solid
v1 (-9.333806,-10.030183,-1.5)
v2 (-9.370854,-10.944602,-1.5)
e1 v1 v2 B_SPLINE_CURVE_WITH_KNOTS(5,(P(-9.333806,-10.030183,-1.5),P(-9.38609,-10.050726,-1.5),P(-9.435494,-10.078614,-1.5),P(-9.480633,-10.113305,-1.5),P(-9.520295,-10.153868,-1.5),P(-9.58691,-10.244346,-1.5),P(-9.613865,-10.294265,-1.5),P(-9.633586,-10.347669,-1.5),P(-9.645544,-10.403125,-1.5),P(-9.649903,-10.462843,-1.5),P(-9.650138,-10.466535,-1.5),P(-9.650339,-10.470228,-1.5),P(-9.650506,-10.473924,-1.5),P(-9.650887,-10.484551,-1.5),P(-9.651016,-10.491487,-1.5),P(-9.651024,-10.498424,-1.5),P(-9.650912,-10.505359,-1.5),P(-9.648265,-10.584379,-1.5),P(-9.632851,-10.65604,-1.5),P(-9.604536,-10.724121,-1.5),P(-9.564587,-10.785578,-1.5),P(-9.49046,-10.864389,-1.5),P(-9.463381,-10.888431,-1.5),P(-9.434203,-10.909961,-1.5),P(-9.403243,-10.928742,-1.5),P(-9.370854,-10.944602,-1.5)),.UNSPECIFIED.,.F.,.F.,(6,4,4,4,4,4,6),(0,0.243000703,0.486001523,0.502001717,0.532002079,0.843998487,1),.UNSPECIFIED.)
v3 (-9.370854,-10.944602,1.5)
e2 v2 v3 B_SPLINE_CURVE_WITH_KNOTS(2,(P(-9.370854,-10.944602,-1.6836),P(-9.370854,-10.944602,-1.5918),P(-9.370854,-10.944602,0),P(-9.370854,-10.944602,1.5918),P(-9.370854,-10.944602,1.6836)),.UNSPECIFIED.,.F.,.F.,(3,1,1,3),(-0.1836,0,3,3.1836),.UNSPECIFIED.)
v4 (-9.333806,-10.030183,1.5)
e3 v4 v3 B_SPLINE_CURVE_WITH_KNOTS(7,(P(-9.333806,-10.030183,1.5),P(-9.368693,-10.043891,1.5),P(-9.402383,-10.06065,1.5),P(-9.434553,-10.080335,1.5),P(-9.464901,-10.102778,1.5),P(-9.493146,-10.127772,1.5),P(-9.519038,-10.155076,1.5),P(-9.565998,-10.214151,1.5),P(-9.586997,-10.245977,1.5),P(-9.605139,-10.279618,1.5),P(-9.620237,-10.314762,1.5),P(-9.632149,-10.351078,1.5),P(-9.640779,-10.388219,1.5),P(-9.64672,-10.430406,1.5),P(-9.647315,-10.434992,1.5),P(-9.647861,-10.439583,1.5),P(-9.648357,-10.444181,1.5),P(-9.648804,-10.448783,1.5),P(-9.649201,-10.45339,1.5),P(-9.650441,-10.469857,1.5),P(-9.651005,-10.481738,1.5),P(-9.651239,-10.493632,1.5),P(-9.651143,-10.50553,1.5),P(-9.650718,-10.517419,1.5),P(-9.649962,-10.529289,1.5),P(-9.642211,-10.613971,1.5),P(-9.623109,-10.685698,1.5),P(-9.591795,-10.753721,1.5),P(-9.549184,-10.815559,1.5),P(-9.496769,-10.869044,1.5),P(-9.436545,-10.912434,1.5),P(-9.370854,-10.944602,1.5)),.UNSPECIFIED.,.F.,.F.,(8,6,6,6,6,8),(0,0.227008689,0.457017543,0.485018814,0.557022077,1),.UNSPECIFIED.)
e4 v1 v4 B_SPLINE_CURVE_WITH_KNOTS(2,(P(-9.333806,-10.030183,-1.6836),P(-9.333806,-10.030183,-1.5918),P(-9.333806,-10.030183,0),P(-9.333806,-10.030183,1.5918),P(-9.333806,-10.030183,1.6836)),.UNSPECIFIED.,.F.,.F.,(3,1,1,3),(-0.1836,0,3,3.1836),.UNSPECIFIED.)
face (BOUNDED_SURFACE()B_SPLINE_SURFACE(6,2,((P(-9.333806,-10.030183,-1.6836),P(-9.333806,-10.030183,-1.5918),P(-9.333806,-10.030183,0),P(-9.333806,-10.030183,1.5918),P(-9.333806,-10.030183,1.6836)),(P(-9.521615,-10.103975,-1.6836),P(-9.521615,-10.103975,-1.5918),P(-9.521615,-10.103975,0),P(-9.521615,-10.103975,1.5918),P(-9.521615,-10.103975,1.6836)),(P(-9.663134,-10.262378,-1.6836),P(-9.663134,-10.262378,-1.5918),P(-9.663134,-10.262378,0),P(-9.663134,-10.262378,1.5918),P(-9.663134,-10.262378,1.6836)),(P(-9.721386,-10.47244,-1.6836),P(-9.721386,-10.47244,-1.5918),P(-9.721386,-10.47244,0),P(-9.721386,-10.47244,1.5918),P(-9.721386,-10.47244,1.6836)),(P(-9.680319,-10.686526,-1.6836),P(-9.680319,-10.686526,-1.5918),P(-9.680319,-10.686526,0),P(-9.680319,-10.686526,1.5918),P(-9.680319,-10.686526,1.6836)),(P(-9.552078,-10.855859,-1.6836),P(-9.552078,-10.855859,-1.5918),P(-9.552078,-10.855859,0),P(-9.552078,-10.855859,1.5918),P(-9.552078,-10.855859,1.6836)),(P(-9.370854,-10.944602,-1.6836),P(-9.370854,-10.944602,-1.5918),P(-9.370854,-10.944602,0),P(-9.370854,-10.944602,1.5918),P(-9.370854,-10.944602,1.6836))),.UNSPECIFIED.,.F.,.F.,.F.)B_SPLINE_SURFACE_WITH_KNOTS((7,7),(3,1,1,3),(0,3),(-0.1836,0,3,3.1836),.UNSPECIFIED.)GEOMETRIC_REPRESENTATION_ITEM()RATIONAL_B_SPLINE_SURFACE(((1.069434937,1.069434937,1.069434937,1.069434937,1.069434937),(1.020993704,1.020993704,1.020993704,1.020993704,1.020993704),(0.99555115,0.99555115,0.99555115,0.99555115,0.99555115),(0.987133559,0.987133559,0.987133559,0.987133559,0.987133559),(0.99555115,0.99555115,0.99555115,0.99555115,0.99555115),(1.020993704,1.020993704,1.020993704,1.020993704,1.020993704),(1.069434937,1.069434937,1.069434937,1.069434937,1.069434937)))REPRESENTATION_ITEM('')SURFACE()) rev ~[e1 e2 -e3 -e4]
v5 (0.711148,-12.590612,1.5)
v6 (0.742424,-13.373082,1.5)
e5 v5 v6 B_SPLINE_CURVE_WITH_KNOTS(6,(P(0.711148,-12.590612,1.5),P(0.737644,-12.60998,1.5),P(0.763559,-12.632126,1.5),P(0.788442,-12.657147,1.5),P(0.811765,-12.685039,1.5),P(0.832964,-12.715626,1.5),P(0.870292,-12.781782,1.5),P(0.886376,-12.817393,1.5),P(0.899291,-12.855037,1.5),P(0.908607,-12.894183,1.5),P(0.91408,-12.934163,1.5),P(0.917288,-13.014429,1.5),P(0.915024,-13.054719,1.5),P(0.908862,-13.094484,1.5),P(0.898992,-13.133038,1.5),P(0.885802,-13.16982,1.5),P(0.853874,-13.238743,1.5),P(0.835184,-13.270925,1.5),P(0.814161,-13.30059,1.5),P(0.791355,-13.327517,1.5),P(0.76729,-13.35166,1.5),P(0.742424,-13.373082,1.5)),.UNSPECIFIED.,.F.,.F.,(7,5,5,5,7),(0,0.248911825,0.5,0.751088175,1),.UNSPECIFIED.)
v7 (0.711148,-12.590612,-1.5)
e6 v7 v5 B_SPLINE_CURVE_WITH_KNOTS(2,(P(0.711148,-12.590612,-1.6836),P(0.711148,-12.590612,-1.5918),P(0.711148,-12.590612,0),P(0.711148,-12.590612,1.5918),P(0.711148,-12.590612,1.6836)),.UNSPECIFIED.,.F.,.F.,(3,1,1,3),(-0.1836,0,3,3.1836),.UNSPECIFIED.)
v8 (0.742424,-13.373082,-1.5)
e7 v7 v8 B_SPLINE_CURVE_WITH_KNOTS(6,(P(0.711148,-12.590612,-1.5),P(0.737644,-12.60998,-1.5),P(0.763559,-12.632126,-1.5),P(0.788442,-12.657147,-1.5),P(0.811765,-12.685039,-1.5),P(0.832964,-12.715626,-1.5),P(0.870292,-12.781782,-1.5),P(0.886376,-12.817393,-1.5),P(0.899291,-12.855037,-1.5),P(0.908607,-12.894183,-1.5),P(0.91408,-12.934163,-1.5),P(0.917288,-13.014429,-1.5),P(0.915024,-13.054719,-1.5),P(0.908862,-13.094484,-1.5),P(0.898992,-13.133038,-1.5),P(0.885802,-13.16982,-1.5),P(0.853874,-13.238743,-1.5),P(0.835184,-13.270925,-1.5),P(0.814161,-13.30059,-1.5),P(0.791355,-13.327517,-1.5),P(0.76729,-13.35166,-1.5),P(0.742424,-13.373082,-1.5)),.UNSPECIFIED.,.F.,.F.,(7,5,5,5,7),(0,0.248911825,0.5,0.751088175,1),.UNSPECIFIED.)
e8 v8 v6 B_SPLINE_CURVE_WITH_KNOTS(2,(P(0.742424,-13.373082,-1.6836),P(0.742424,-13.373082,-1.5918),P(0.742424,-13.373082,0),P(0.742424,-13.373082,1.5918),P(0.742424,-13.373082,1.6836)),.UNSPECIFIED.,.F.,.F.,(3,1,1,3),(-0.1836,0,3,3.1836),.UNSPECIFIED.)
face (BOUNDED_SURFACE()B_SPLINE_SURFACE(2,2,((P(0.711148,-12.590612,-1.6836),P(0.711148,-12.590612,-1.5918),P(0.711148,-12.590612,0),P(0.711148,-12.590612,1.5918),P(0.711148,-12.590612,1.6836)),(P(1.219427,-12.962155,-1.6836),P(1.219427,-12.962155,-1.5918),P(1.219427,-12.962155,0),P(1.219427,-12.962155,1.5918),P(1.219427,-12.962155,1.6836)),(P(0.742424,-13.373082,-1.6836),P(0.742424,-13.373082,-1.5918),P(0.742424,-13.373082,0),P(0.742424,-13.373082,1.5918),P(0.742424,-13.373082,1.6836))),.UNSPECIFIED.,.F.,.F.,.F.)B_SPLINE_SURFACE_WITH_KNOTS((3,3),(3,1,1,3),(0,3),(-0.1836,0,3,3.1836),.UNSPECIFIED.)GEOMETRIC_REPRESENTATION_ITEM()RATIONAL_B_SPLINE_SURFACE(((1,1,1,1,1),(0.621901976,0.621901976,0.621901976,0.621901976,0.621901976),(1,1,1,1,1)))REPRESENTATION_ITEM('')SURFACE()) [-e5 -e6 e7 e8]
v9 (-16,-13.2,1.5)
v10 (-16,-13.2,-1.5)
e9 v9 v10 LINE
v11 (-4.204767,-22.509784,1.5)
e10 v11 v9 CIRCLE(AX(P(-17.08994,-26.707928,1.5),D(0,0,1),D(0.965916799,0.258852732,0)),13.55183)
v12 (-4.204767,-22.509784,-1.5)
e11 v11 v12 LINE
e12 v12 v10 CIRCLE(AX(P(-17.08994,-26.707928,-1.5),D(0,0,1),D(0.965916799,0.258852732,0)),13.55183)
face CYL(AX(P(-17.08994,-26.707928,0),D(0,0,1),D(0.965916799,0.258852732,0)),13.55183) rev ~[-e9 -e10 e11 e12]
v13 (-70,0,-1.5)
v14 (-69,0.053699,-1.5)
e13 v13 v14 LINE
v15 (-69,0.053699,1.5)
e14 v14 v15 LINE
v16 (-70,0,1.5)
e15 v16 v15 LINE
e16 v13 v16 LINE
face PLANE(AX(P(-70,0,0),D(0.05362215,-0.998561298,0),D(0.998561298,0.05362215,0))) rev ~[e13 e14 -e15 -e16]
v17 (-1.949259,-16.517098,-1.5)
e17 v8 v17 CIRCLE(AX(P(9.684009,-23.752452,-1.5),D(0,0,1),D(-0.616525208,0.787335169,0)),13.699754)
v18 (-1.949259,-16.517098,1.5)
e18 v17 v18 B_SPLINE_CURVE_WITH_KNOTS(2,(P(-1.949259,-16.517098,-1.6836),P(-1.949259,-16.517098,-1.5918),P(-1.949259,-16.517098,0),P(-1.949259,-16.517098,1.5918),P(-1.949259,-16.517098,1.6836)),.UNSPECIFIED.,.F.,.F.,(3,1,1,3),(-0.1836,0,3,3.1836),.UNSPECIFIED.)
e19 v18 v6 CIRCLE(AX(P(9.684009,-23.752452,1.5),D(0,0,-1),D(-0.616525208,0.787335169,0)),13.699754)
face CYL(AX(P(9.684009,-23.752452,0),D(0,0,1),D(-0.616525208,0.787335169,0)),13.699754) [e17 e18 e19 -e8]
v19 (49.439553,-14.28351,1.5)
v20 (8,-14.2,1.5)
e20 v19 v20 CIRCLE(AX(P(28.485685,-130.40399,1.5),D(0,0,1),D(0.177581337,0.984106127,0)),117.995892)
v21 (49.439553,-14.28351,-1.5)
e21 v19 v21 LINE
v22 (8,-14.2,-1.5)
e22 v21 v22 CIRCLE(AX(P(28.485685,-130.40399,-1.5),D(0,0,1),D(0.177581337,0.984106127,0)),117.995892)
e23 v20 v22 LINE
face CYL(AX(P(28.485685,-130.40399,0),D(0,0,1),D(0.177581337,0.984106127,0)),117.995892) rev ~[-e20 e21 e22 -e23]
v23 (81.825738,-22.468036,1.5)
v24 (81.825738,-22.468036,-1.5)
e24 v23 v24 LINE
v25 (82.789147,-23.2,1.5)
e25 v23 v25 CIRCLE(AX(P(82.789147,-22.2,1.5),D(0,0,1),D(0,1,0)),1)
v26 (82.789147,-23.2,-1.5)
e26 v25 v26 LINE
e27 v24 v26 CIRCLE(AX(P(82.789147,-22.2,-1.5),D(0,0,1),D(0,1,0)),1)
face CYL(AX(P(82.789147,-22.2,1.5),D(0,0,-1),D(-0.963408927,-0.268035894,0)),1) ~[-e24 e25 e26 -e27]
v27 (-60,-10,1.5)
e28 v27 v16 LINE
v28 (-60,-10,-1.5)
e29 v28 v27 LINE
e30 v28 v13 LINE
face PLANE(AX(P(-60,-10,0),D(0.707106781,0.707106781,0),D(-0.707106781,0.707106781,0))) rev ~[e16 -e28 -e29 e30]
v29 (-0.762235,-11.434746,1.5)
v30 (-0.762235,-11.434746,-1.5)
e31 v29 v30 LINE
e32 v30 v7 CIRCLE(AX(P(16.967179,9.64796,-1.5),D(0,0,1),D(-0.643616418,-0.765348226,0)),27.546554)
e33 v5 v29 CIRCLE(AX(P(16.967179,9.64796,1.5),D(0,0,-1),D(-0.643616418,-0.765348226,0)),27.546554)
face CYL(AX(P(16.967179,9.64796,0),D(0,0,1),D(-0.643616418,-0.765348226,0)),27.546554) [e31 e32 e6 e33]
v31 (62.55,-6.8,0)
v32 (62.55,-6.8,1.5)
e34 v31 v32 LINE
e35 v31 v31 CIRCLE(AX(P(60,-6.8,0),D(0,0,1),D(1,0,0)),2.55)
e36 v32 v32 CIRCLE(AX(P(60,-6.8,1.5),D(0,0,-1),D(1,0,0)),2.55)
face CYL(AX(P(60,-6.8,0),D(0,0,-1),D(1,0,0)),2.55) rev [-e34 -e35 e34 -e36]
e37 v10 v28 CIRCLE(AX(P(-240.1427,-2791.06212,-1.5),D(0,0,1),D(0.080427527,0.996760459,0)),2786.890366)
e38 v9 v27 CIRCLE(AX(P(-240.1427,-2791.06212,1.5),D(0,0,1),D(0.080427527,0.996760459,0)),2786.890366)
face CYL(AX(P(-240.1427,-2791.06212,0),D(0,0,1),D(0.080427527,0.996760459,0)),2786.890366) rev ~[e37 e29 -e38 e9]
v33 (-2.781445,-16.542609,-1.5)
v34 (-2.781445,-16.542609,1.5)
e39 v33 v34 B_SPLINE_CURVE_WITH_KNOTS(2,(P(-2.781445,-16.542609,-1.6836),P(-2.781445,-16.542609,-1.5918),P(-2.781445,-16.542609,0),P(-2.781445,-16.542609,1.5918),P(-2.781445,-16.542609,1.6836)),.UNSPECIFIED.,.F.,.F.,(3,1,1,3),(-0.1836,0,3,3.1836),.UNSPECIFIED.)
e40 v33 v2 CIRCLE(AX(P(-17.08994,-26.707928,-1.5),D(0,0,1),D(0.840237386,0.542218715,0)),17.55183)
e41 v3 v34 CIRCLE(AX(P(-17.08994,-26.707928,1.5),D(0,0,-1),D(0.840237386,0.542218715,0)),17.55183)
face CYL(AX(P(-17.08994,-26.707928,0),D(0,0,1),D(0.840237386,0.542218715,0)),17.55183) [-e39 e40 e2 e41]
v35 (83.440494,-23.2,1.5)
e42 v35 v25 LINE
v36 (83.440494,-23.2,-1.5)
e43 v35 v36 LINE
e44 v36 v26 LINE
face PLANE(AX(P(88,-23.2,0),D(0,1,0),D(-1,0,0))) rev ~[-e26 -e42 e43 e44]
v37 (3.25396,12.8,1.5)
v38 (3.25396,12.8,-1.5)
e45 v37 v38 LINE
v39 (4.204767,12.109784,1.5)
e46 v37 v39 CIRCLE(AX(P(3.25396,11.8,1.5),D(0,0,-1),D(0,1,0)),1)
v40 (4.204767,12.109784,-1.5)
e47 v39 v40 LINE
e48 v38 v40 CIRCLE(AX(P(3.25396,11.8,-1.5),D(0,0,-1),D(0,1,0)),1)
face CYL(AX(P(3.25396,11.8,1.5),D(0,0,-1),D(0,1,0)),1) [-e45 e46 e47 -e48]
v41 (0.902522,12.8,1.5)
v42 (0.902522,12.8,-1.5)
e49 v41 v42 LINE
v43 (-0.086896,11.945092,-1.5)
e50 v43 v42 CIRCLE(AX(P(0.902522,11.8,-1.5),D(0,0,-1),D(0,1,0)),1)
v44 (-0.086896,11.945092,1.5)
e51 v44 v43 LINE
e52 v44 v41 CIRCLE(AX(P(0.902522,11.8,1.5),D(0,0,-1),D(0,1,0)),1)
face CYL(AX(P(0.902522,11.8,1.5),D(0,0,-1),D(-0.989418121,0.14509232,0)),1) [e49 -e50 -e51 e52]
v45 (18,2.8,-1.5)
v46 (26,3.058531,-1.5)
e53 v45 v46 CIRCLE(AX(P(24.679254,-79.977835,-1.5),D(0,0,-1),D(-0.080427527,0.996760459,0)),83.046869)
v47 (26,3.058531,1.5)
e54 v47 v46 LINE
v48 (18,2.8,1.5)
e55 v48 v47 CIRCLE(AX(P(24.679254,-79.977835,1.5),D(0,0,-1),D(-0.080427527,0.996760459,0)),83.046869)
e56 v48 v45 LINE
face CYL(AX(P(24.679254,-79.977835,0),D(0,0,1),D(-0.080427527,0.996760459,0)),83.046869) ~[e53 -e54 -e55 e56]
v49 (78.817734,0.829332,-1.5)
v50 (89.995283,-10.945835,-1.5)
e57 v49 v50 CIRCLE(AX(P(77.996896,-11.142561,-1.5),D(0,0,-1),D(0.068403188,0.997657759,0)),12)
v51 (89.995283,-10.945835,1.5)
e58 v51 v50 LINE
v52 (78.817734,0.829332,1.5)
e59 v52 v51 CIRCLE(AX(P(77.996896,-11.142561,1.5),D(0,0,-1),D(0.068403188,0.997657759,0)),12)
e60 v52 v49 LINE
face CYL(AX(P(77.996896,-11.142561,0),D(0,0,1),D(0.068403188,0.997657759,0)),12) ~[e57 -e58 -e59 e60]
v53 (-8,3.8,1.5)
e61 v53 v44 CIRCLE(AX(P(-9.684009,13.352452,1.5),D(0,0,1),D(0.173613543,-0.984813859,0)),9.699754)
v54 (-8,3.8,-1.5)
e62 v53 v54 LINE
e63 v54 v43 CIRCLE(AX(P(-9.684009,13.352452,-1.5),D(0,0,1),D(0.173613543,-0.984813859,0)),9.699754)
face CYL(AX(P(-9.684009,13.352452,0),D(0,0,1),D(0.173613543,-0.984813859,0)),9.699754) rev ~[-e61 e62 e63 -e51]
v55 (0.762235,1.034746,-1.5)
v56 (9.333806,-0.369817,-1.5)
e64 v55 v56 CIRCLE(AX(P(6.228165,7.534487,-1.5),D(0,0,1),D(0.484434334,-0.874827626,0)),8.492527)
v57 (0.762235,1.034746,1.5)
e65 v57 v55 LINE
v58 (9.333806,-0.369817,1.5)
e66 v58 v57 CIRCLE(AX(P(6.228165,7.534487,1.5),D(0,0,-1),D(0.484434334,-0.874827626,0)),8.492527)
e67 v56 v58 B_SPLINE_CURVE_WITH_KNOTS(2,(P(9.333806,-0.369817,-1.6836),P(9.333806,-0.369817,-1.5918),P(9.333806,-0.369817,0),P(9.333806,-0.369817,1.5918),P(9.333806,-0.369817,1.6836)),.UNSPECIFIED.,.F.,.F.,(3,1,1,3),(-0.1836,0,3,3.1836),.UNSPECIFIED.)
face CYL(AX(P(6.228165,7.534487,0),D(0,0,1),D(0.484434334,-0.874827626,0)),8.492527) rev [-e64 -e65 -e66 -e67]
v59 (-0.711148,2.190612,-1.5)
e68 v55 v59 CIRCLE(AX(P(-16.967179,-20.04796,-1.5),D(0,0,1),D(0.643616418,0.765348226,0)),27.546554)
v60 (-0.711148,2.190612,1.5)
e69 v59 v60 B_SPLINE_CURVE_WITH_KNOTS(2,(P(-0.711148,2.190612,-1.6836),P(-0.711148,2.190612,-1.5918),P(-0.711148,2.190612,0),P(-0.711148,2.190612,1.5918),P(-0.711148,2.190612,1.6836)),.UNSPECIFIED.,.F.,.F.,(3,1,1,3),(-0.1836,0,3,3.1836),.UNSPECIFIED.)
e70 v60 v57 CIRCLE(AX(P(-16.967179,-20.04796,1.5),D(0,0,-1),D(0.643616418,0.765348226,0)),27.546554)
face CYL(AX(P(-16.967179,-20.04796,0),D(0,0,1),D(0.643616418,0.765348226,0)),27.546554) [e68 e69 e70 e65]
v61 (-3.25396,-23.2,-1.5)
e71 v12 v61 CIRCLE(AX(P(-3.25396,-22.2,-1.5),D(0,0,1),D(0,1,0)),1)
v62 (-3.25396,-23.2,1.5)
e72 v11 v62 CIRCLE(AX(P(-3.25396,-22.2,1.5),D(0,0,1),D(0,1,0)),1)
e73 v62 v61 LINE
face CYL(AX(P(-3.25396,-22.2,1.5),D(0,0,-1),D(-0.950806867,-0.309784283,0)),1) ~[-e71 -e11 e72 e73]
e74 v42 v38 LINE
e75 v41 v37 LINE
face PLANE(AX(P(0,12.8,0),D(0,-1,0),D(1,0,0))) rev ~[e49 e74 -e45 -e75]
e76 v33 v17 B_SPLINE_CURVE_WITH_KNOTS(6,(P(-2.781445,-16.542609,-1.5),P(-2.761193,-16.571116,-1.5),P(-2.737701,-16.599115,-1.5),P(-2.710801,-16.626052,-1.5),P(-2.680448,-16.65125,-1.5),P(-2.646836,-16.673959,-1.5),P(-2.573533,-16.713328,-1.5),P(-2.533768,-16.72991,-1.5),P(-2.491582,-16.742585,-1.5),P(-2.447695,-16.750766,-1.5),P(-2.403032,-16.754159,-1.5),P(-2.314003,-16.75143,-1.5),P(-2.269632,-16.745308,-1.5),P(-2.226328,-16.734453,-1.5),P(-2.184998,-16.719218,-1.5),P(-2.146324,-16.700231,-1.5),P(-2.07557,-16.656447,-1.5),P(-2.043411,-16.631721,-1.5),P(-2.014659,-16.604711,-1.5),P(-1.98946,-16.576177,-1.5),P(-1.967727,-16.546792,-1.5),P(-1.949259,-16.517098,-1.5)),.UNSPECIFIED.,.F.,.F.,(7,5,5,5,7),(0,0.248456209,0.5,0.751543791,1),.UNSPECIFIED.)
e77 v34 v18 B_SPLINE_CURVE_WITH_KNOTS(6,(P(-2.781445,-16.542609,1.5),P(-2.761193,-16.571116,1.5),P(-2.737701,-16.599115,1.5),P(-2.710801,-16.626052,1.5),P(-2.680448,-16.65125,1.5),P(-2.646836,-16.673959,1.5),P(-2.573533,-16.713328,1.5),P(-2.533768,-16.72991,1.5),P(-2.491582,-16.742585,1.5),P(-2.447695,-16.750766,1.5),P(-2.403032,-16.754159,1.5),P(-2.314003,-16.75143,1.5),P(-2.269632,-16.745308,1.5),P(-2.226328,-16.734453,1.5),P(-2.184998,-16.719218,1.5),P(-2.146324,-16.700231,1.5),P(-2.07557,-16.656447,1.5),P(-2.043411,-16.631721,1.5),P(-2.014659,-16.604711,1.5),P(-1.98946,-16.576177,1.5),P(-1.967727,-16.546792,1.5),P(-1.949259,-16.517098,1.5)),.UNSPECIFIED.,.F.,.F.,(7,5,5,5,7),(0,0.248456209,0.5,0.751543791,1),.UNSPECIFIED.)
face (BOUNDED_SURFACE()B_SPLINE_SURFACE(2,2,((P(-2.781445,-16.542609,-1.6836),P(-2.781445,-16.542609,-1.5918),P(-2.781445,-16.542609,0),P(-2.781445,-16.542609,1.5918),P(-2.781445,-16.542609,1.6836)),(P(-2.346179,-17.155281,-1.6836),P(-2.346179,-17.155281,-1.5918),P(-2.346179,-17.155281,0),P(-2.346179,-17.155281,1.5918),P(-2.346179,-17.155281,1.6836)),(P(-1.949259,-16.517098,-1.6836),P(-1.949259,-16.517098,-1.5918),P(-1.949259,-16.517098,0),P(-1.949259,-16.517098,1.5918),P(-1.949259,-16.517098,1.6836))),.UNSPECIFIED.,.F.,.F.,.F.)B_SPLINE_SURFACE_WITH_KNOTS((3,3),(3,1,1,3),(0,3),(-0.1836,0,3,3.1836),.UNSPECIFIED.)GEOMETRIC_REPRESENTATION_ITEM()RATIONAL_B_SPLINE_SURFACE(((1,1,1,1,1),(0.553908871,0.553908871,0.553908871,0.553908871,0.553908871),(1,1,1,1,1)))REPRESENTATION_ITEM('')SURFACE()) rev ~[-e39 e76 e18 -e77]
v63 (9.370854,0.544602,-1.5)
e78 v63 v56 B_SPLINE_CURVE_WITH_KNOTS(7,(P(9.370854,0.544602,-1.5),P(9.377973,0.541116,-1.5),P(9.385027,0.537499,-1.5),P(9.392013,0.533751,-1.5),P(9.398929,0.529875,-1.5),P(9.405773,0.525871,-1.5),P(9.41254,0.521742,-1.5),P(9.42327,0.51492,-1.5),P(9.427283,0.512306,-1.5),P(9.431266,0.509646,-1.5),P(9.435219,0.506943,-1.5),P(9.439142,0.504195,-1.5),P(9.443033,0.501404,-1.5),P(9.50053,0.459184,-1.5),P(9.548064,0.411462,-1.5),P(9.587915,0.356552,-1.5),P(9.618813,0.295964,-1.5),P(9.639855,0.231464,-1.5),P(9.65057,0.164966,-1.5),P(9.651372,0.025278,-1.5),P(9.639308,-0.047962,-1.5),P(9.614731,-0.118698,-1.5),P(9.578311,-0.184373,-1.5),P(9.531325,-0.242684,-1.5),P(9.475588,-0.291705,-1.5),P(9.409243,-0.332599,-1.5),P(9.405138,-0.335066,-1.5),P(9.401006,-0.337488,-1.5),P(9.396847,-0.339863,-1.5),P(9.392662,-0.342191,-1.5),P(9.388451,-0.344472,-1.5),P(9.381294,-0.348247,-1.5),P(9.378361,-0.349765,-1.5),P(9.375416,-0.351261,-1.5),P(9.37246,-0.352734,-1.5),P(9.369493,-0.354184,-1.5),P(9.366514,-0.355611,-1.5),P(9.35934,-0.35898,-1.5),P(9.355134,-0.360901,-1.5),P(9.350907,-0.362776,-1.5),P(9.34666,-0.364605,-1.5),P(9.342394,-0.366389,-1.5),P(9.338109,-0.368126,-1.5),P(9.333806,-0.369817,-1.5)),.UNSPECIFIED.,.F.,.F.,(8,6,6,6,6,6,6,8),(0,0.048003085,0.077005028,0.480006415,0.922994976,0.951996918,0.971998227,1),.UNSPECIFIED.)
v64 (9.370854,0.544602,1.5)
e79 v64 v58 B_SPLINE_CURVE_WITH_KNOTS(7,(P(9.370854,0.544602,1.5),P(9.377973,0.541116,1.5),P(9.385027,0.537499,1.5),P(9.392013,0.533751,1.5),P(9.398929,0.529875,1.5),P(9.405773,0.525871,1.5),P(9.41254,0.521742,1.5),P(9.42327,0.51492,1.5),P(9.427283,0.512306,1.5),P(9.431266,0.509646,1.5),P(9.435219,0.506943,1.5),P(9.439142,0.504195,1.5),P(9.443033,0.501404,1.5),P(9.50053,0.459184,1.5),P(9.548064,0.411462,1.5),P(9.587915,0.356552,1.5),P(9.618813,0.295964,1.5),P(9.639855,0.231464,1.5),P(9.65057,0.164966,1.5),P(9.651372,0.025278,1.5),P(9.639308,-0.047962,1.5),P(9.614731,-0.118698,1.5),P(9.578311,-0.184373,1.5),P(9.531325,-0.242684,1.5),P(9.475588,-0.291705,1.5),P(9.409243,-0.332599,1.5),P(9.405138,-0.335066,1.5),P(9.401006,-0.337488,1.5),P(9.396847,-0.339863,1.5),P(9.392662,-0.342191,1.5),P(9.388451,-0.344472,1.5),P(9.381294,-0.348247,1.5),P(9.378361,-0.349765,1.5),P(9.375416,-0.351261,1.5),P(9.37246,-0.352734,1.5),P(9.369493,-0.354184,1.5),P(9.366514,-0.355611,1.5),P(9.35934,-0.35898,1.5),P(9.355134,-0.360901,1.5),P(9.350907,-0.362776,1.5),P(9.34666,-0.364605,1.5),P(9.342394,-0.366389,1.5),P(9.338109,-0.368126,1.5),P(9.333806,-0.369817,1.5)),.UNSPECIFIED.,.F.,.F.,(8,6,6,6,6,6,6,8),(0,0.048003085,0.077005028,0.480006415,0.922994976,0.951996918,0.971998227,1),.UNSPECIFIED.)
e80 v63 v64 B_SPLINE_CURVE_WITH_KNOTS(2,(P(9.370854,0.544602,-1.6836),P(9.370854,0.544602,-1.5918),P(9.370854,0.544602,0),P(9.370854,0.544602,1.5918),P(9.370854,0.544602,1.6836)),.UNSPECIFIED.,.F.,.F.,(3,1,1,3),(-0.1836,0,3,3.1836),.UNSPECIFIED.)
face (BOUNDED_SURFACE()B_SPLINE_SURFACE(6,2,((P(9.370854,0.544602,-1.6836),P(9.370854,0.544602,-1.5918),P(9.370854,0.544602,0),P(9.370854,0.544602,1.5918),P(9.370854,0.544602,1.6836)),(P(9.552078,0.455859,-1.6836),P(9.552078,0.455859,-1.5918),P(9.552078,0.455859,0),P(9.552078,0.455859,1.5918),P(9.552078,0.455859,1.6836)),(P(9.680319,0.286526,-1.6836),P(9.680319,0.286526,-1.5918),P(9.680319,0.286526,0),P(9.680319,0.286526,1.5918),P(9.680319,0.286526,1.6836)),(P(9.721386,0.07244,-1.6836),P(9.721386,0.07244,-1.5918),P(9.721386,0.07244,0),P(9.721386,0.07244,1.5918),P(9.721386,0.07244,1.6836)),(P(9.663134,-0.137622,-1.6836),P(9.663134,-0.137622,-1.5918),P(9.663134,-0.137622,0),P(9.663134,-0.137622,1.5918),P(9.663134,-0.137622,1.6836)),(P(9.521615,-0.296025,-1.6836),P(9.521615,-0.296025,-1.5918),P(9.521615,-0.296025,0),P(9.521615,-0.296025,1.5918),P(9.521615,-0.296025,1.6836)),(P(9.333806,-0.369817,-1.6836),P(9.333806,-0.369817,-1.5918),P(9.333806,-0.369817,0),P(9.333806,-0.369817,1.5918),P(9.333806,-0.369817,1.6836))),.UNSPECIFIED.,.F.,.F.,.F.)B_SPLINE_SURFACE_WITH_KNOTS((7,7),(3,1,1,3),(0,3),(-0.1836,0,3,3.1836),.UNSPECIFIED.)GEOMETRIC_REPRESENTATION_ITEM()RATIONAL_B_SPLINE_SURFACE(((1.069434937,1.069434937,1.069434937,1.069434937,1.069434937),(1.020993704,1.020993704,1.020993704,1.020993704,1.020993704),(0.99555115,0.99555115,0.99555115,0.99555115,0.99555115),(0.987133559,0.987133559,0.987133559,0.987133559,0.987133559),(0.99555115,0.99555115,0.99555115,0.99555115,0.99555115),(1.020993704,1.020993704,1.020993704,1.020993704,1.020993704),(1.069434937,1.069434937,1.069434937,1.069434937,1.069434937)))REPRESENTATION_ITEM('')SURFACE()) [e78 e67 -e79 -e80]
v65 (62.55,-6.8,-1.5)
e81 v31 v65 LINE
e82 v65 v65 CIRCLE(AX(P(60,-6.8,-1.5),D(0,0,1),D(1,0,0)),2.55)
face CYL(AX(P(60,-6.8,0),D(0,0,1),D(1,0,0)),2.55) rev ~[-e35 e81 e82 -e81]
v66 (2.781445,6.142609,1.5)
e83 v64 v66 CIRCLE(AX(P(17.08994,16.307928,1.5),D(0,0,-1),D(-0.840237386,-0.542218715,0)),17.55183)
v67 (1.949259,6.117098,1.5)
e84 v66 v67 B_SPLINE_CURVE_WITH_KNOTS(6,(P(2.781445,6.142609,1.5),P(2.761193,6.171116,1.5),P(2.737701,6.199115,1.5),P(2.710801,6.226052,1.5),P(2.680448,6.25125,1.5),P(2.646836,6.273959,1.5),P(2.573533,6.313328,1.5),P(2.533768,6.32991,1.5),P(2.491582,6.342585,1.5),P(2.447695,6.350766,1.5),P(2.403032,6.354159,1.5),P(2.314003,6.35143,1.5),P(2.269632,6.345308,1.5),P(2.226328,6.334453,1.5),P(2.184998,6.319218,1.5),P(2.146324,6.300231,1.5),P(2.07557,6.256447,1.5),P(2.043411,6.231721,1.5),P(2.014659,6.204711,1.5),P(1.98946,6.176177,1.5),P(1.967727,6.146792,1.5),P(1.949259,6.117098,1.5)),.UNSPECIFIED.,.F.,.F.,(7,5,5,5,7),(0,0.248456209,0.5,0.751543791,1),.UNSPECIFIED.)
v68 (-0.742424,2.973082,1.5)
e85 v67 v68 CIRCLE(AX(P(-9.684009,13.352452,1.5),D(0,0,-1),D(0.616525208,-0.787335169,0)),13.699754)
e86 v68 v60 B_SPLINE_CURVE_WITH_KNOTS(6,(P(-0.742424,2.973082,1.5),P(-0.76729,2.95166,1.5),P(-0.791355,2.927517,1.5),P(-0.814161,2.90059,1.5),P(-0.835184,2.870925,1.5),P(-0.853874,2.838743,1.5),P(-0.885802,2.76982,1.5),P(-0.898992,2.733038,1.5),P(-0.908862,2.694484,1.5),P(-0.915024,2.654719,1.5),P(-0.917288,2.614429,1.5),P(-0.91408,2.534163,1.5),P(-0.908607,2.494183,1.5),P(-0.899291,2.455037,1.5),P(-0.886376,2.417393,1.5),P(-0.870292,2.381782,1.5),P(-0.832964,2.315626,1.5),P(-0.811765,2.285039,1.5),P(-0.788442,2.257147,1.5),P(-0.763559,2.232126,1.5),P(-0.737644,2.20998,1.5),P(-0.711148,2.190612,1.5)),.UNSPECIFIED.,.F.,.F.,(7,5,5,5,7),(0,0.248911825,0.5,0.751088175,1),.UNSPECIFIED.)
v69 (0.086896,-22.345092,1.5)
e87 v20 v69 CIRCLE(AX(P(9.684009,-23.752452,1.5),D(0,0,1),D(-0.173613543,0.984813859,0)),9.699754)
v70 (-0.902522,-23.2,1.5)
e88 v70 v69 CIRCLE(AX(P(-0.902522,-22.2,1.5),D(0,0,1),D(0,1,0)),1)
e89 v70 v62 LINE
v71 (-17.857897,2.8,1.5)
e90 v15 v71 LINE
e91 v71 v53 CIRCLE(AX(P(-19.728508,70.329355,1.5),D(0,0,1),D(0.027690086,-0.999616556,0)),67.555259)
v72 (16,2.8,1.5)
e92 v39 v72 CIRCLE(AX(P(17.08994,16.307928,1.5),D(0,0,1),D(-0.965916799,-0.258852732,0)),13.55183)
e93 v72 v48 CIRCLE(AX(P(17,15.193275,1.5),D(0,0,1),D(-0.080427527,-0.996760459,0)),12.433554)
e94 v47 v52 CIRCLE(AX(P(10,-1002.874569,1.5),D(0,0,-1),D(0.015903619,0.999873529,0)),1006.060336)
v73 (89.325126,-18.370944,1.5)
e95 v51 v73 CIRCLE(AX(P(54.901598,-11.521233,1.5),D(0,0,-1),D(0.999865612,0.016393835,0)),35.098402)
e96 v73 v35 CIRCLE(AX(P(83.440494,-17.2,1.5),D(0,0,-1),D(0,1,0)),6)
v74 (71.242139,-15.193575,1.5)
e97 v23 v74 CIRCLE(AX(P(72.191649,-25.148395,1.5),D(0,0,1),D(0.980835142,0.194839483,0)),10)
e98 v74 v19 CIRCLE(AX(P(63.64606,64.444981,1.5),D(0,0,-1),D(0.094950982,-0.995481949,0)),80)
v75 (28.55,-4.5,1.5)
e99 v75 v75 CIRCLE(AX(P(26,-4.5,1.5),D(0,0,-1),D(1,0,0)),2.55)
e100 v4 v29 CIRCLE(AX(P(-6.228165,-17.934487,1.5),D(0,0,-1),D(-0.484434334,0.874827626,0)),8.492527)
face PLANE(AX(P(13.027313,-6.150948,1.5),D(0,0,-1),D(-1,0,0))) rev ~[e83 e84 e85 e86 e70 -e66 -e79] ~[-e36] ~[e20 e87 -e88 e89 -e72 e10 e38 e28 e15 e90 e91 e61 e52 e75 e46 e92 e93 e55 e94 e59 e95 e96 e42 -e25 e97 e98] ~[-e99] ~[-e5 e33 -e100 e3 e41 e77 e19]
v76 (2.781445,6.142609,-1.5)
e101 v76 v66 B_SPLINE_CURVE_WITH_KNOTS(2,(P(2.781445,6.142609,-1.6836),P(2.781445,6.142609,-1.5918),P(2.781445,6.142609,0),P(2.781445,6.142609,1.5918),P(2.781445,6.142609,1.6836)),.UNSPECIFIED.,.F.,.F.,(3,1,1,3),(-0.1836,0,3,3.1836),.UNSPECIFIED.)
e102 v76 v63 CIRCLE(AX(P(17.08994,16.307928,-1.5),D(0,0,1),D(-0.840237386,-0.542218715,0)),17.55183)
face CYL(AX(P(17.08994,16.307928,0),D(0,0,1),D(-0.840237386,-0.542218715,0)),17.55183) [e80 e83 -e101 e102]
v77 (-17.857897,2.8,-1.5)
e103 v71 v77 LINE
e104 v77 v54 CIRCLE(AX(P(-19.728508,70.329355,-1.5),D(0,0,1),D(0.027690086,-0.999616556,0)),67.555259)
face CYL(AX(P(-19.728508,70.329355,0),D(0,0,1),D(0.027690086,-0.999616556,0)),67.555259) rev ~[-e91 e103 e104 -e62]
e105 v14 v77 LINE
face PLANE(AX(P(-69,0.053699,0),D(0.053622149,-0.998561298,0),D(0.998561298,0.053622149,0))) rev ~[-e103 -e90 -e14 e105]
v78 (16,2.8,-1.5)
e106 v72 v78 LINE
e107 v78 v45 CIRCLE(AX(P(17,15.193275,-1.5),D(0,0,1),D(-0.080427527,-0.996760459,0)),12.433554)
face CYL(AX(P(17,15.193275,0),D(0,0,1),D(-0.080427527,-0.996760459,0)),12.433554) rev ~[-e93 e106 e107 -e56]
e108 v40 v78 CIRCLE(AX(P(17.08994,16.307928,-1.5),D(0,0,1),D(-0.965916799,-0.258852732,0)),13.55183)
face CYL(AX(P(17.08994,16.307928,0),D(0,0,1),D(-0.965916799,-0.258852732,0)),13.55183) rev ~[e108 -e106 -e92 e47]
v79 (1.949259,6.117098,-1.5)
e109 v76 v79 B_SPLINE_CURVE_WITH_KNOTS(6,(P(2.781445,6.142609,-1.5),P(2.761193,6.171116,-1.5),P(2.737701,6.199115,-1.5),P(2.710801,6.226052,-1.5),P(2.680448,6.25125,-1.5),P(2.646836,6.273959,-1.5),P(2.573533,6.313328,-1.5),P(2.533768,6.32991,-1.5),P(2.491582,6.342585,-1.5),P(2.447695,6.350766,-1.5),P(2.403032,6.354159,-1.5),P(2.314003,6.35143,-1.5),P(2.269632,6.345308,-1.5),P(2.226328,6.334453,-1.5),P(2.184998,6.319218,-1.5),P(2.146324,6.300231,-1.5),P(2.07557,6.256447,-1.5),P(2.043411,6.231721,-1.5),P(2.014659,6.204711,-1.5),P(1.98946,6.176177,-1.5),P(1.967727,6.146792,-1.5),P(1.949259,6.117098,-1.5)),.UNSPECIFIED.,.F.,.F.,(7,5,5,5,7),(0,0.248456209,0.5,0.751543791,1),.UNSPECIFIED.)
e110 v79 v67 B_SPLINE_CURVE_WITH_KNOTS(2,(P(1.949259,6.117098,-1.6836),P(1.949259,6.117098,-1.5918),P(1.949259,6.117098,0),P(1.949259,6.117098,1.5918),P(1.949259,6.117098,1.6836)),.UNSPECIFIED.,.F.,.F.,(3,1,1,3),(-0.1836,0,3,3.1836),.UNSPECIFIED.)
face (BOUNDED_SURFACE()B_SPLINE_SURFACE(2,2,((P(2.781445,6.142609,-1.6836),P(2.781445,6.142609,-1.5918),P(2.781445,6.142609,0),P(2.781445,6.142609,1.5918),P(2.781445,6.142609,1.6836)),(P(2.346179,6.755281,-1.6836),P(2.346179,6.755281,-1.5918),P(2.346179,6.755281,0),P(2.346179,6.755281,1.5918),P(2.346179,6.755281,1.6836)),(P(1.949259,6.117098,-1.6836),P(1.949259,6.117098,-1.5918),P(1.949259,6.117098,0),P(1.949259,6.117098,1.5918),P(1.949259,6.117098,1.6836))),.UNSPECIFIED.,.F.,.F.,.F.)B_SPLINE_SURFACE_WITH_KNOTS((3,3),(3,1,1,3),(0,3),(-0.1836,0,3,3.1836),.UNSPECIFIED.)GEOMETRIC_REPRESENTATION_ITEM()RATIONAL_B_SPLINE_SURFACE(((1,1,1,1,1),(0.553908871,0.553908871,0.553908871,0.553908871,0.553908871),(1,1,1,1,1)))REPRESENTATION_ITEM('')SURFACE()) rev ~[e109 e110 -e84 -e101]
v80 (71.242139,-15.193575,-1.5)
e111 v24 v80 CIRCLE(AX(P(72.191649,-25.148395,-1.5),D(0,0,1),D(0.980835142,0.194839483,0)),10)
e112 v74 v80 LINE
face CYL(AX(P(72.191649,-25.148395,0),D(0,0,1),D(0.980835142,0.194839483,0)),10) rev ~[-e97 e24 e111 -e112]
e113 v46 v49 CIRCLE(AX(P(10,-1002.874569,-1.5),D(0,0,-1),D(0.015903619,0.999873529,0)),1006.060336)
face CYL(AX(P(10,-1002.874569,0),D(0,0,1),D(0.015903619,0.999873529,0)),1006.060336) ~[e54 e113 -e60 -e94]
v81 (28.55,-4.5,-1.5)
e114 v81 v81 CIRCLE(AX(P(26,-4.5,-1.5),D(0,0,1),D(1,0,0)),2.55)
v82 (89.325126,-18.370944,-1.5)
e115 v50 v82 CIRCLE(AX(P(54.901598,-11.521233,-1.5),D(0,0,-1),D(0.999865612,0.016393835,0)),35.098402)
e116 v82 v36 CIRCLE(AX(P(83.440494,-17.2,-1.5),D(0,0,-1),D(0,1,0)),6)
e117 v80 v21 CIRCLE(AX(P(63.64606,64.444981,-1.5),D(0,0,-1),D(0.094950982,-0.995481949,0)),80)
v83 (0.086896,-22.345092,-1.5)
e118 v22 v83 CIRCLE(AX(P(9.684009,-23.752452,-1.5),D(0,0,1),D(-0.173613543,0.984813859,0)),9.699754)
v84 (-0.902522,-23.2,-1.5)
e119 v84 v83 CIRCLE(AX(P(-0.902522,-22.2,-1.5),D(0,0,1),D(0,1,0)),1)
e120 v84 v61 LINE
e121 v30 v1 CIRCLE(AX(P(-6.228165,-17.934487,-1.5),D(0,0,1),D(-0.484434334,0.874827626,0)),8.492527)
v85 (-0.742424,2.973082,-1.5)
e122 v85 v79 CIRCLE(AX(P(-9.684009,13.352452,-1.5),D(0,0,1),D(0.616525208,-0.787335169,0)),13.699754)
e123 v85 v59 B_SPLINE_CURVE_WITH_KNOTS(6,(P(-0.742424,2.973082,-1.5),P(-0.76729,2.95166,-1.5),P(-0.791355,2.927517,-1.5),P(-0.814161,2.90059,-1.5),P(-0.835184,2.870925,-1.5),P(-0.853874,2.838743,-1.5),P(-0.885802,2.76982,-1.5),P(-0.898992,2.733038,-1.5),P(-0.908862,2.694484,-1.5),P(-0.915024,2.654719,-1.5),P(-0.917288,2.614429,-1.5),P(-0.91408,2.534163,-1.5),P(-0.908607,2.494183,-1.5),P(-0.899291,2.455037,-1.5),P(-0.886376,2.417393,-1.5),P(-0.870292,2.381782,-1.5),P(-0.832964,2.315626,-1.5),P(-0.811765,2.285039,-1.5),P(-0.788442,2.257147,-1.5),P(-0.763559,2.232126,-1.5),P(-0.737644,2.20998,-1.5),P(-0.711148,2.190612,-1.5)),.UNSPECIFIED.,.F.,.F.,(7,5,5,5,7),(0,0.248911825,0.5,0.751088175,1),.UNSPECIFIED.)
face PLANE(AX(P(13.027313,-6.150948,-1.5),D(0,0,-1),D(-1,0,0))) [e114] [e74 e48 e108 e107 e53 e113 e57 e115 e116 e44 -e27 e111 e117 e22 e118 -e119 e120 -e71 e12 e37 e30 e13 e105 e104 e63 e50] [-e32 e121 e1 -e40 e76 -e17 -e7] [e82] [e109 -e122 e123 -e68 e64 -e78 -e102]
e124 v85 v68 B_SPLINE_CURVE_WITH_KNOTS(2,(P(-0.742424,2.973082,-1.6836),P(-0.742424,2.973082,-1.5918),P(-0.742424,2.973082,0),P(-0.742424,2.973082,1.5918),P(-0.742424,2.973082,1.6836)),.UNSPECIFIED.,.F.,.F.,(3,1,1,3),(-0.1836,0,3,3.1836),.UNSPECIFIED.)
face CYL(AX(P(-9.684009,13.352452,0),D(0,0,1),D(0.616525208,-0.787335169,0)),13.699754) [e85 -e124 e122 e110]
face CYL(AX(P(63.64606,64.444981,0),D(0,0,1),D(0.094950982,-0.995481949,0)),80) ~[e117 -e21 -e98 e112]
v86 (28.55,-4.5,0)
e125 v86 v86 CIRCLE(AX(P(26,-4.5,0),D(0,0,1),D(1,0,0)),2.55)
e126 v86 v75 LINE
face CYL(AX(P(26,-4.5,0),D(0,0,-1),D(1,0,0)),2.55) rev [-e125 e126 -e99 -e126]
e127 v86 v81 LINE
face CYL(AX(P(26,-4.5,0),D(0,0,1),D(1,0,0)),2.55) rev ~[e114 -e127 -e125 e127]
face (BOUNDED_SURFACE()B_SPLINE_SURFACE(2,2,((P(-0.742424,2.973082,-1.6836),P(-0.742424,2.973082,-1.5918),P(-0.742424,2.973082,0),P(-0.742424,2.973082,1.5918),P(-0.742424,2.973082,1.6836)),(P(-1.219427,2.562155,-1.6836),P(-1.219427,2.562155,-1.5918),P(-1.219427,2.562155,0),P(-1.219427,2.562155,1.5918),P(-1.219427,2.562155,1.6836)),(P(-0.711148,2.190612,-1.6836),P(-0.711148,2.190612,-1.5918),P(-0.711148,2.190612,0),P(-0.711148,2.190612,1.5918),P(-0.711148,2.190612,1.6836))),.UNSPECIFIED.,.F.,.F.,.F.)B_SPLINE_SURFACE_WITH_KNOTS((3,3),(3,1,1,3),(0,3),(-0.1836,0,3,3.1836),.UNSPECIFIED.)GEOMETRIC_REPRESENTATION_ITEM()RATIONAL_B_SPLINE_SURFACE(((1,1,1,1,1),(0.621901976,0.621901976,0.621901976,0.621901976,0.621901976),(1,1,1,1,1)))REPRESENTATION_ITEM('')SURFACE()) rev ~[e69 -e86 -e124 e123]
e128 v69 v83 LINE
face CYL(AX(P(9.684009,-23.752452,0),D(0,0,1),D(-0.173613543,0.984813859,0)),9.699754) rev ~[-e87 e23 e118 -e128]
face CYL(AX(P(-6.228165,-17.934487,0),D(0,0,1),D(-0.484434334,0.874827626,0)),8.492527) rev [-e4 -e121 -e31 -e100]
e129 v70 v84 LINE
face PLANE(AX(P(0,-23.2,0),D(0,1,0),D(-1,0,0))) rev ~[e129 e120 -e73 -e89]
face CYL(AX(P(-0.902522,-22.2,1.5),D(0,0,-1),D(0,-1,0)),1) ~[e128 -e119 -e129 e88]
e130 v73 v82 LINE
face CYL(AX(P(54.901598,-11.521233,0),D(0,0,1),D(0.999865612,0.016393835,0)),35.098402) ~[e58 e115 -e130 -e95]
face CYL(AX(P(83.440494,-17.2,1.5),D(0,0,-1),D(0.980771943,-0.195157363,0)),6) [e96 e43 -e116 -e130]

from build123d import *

# Parameters (mm, degrees)
EXTRUDE_1_DEPTH          = 1.5
CUT_EXTRUDE_1_DEPTH      = 2.5
CUT_EXTRUDE_1_DEPTH_BACK = 2.5
FILLET_2_R               = 0.5
SKETCH_1_3_R             = 2.55
CUT_EXTRUDE_2_DEPTH      = 2.5000001
CUT_EXTRUDE_2_DEPTH_BACK = 2.5000001
FILLET_3_R               = 1
FILLET_4_R               = 6


with BuildPart() as part:
    # 草图3 → 凸台-拉伸1 (new body, symmetric)
    with BuildSketch(Plane.XY):
        with BuildLine():
            Line((-69, 0.053699407), (-17.857896917, 2.8))
            ThreePointArc((-17.857896917, 2.8), (-12.910589699, 3.119021237), (-8, 3.8))
            ThreePointArc((-8, 3.8), (-2.43432215, 6.908286356), (0, 12.8))
            Line((0, 12.8), (4, 12.8))
            ThreePointArc((4, 12.8), (8.414270073, 5.897124087), (16, 2.8))
            ThreePointArc((16, 2.8), (17, 2.759720994), (18, 2.8))
            ThreePointArc((18, 2.8), (21.996883494, 3.025702827), (26, 3.058530741))
            ThreePointArc((26, 3.058530741), (52.423511602, 2.290913304), (78.817734107, 0.82933187))
            ThreePointArc((78.817734107, 0.82933187), (86.700158242, -2.881010306), (89.995283198, -10.945835216))
            ThreePointArc((89.995283198, -10.945835216), (89.543787999, -17.161843843), (88, -23.2))
            Line((88, -23.2), (82, -23.2))
            ThreePointArc((82, -23.2), (78.162031949, -17.126267779), (71.242138758, -15.193575339))
            ThreePointArc((71.242138758, -15.193575339), (60.309670553, -15.485417284), (49.439553231, -14.283509554))
            ThreePointArc((49.439553231, -14.283509554), (28.723471343, -12.408337394), (8, -14.2))
            ThreePointArc((8, -14.2), (2.43432215, -17.308286356), (0, -23.2))
            Line((0, -23.2), (-4, -23.2))
            ThreePointArc((-4, -23.2), (-8.414270073, -16.297124087), (-16, -13.2))
            ThreePointArc((-16, -13.2), (-37.993667939, -11.512934158), (-60, -10))
            Line((-60, -10), (-70, 0))
            Line((-70, 0), (-69, 0.053699407))
        make_face()
    extrude(amount=EXTRUDE_1_DEPTH, both=True)

    # 草图1 → 切除-拉伸1 (cut, two sides)
    with BuildSketch(Plane.XY) as cut_extrude_1_sk:
        with BuildLine():
            ThreePointArc((10.342236489, 0.104989325), (5.407803908, -0.918324974), (0.762235002, 1.034746091))
            ThreePointArc((0.762235002, 1.034746091), (-0.220251061, 1.823323048), (-1.237764998, 2.566154029))
            ThreePointArc((-1.237764998, 2.566154029), (0.767930164, 4.495803013), (2.342236489, 6.790997533))
            ThreePointArc((2.342236489, 6.790997533), (5.834327754, 2.840266104), (10.342236489, 0.104989325))
        make_face()
        with BuildLine():
            ThreePointArc((-0.762235002, -11.434746091), (0.220251061, -12.223323048), (1.237764998, -12.966154029))
            ThreePointArc((1.237764998, -12.966154029), (-0.767930164, -14.895803013), (-2.342236489, -17.190997533))
            ThreePointArc((-2.342236489, -17.190997533), (-5.834327754, -13.240266104), (-10.342236489, -10.504989325))
            ThreePointArc((-10.342236489, -10.504989325), (-5.407803908, -9.481675026), (-0.762235002, -11.434746091))
        make_face()
    extrude(amount=CUT_EXTRUDE_1_DEPTH, mode=Mode.SUBTRACT)
    extrude(cut_extrude_1_sk.sketch, amount=-CUT_EXTRUDE_1_DEPTH_BACK, mode=Mode.SUBTRACT)

    # 圆角2
    fillet_2_edges = [part.edges().sort_by_distance(p)[0] for p in [
        (10.342236489, 0.104989325, 0),
        (-1.237764998, 2.566154029, 0),
        (2.342236489, 6.790997533, 0),
        (1.237764998, -12.966154029, 0),
        (-2.342236489, -17.190997533, 0),
        (-10.342236489, -10.504989325, 0),
    ]]
    fillet(fillet_2_edges, radius=FILLET_2_R)

    # 草图1<3> → 切除-拉伸2 (cut, two sides)
    with BuildSketch(Plane.XY) as cut_extrude_2_sk:
        with Locations((60, -6.8)):
            Circle(SKETCH_1_3_R)
        with Locations((26, -4.5)):
            Circle(SKETCH_1_3_R)
    extrude(amount=CUT_EXTRUDE_2_DEPTH, mode=Mode.SUBTRACT)
    extrude(cut_extrude_2_sk.sketch, amount=-CUT_EXTRUDE_2_DEPTH_BACK, mode=Mode.SUBTRACT)

    # 圆角3
    fillet_3_edges = [part.edges().sort_by_distance(p)[0] for p in [
        (0, 12.8, 0),
        (4, 12.8, 0),
        (82, -23.2, 0),
        (0, -23.2, 0),
        (-4, -23.2, 0),
    ]]
    fillet(fillet_3_edges, radius=FILLET_3_R)

    # 圆角4
    fillet_4_edges = [part.edges().sort_by_distance(p)[0] for p in [
        (88, -23.2, 0),
    ]]
    fillet(fillet_4_edges, radius=FILLET_4_R)


solid = part.part
